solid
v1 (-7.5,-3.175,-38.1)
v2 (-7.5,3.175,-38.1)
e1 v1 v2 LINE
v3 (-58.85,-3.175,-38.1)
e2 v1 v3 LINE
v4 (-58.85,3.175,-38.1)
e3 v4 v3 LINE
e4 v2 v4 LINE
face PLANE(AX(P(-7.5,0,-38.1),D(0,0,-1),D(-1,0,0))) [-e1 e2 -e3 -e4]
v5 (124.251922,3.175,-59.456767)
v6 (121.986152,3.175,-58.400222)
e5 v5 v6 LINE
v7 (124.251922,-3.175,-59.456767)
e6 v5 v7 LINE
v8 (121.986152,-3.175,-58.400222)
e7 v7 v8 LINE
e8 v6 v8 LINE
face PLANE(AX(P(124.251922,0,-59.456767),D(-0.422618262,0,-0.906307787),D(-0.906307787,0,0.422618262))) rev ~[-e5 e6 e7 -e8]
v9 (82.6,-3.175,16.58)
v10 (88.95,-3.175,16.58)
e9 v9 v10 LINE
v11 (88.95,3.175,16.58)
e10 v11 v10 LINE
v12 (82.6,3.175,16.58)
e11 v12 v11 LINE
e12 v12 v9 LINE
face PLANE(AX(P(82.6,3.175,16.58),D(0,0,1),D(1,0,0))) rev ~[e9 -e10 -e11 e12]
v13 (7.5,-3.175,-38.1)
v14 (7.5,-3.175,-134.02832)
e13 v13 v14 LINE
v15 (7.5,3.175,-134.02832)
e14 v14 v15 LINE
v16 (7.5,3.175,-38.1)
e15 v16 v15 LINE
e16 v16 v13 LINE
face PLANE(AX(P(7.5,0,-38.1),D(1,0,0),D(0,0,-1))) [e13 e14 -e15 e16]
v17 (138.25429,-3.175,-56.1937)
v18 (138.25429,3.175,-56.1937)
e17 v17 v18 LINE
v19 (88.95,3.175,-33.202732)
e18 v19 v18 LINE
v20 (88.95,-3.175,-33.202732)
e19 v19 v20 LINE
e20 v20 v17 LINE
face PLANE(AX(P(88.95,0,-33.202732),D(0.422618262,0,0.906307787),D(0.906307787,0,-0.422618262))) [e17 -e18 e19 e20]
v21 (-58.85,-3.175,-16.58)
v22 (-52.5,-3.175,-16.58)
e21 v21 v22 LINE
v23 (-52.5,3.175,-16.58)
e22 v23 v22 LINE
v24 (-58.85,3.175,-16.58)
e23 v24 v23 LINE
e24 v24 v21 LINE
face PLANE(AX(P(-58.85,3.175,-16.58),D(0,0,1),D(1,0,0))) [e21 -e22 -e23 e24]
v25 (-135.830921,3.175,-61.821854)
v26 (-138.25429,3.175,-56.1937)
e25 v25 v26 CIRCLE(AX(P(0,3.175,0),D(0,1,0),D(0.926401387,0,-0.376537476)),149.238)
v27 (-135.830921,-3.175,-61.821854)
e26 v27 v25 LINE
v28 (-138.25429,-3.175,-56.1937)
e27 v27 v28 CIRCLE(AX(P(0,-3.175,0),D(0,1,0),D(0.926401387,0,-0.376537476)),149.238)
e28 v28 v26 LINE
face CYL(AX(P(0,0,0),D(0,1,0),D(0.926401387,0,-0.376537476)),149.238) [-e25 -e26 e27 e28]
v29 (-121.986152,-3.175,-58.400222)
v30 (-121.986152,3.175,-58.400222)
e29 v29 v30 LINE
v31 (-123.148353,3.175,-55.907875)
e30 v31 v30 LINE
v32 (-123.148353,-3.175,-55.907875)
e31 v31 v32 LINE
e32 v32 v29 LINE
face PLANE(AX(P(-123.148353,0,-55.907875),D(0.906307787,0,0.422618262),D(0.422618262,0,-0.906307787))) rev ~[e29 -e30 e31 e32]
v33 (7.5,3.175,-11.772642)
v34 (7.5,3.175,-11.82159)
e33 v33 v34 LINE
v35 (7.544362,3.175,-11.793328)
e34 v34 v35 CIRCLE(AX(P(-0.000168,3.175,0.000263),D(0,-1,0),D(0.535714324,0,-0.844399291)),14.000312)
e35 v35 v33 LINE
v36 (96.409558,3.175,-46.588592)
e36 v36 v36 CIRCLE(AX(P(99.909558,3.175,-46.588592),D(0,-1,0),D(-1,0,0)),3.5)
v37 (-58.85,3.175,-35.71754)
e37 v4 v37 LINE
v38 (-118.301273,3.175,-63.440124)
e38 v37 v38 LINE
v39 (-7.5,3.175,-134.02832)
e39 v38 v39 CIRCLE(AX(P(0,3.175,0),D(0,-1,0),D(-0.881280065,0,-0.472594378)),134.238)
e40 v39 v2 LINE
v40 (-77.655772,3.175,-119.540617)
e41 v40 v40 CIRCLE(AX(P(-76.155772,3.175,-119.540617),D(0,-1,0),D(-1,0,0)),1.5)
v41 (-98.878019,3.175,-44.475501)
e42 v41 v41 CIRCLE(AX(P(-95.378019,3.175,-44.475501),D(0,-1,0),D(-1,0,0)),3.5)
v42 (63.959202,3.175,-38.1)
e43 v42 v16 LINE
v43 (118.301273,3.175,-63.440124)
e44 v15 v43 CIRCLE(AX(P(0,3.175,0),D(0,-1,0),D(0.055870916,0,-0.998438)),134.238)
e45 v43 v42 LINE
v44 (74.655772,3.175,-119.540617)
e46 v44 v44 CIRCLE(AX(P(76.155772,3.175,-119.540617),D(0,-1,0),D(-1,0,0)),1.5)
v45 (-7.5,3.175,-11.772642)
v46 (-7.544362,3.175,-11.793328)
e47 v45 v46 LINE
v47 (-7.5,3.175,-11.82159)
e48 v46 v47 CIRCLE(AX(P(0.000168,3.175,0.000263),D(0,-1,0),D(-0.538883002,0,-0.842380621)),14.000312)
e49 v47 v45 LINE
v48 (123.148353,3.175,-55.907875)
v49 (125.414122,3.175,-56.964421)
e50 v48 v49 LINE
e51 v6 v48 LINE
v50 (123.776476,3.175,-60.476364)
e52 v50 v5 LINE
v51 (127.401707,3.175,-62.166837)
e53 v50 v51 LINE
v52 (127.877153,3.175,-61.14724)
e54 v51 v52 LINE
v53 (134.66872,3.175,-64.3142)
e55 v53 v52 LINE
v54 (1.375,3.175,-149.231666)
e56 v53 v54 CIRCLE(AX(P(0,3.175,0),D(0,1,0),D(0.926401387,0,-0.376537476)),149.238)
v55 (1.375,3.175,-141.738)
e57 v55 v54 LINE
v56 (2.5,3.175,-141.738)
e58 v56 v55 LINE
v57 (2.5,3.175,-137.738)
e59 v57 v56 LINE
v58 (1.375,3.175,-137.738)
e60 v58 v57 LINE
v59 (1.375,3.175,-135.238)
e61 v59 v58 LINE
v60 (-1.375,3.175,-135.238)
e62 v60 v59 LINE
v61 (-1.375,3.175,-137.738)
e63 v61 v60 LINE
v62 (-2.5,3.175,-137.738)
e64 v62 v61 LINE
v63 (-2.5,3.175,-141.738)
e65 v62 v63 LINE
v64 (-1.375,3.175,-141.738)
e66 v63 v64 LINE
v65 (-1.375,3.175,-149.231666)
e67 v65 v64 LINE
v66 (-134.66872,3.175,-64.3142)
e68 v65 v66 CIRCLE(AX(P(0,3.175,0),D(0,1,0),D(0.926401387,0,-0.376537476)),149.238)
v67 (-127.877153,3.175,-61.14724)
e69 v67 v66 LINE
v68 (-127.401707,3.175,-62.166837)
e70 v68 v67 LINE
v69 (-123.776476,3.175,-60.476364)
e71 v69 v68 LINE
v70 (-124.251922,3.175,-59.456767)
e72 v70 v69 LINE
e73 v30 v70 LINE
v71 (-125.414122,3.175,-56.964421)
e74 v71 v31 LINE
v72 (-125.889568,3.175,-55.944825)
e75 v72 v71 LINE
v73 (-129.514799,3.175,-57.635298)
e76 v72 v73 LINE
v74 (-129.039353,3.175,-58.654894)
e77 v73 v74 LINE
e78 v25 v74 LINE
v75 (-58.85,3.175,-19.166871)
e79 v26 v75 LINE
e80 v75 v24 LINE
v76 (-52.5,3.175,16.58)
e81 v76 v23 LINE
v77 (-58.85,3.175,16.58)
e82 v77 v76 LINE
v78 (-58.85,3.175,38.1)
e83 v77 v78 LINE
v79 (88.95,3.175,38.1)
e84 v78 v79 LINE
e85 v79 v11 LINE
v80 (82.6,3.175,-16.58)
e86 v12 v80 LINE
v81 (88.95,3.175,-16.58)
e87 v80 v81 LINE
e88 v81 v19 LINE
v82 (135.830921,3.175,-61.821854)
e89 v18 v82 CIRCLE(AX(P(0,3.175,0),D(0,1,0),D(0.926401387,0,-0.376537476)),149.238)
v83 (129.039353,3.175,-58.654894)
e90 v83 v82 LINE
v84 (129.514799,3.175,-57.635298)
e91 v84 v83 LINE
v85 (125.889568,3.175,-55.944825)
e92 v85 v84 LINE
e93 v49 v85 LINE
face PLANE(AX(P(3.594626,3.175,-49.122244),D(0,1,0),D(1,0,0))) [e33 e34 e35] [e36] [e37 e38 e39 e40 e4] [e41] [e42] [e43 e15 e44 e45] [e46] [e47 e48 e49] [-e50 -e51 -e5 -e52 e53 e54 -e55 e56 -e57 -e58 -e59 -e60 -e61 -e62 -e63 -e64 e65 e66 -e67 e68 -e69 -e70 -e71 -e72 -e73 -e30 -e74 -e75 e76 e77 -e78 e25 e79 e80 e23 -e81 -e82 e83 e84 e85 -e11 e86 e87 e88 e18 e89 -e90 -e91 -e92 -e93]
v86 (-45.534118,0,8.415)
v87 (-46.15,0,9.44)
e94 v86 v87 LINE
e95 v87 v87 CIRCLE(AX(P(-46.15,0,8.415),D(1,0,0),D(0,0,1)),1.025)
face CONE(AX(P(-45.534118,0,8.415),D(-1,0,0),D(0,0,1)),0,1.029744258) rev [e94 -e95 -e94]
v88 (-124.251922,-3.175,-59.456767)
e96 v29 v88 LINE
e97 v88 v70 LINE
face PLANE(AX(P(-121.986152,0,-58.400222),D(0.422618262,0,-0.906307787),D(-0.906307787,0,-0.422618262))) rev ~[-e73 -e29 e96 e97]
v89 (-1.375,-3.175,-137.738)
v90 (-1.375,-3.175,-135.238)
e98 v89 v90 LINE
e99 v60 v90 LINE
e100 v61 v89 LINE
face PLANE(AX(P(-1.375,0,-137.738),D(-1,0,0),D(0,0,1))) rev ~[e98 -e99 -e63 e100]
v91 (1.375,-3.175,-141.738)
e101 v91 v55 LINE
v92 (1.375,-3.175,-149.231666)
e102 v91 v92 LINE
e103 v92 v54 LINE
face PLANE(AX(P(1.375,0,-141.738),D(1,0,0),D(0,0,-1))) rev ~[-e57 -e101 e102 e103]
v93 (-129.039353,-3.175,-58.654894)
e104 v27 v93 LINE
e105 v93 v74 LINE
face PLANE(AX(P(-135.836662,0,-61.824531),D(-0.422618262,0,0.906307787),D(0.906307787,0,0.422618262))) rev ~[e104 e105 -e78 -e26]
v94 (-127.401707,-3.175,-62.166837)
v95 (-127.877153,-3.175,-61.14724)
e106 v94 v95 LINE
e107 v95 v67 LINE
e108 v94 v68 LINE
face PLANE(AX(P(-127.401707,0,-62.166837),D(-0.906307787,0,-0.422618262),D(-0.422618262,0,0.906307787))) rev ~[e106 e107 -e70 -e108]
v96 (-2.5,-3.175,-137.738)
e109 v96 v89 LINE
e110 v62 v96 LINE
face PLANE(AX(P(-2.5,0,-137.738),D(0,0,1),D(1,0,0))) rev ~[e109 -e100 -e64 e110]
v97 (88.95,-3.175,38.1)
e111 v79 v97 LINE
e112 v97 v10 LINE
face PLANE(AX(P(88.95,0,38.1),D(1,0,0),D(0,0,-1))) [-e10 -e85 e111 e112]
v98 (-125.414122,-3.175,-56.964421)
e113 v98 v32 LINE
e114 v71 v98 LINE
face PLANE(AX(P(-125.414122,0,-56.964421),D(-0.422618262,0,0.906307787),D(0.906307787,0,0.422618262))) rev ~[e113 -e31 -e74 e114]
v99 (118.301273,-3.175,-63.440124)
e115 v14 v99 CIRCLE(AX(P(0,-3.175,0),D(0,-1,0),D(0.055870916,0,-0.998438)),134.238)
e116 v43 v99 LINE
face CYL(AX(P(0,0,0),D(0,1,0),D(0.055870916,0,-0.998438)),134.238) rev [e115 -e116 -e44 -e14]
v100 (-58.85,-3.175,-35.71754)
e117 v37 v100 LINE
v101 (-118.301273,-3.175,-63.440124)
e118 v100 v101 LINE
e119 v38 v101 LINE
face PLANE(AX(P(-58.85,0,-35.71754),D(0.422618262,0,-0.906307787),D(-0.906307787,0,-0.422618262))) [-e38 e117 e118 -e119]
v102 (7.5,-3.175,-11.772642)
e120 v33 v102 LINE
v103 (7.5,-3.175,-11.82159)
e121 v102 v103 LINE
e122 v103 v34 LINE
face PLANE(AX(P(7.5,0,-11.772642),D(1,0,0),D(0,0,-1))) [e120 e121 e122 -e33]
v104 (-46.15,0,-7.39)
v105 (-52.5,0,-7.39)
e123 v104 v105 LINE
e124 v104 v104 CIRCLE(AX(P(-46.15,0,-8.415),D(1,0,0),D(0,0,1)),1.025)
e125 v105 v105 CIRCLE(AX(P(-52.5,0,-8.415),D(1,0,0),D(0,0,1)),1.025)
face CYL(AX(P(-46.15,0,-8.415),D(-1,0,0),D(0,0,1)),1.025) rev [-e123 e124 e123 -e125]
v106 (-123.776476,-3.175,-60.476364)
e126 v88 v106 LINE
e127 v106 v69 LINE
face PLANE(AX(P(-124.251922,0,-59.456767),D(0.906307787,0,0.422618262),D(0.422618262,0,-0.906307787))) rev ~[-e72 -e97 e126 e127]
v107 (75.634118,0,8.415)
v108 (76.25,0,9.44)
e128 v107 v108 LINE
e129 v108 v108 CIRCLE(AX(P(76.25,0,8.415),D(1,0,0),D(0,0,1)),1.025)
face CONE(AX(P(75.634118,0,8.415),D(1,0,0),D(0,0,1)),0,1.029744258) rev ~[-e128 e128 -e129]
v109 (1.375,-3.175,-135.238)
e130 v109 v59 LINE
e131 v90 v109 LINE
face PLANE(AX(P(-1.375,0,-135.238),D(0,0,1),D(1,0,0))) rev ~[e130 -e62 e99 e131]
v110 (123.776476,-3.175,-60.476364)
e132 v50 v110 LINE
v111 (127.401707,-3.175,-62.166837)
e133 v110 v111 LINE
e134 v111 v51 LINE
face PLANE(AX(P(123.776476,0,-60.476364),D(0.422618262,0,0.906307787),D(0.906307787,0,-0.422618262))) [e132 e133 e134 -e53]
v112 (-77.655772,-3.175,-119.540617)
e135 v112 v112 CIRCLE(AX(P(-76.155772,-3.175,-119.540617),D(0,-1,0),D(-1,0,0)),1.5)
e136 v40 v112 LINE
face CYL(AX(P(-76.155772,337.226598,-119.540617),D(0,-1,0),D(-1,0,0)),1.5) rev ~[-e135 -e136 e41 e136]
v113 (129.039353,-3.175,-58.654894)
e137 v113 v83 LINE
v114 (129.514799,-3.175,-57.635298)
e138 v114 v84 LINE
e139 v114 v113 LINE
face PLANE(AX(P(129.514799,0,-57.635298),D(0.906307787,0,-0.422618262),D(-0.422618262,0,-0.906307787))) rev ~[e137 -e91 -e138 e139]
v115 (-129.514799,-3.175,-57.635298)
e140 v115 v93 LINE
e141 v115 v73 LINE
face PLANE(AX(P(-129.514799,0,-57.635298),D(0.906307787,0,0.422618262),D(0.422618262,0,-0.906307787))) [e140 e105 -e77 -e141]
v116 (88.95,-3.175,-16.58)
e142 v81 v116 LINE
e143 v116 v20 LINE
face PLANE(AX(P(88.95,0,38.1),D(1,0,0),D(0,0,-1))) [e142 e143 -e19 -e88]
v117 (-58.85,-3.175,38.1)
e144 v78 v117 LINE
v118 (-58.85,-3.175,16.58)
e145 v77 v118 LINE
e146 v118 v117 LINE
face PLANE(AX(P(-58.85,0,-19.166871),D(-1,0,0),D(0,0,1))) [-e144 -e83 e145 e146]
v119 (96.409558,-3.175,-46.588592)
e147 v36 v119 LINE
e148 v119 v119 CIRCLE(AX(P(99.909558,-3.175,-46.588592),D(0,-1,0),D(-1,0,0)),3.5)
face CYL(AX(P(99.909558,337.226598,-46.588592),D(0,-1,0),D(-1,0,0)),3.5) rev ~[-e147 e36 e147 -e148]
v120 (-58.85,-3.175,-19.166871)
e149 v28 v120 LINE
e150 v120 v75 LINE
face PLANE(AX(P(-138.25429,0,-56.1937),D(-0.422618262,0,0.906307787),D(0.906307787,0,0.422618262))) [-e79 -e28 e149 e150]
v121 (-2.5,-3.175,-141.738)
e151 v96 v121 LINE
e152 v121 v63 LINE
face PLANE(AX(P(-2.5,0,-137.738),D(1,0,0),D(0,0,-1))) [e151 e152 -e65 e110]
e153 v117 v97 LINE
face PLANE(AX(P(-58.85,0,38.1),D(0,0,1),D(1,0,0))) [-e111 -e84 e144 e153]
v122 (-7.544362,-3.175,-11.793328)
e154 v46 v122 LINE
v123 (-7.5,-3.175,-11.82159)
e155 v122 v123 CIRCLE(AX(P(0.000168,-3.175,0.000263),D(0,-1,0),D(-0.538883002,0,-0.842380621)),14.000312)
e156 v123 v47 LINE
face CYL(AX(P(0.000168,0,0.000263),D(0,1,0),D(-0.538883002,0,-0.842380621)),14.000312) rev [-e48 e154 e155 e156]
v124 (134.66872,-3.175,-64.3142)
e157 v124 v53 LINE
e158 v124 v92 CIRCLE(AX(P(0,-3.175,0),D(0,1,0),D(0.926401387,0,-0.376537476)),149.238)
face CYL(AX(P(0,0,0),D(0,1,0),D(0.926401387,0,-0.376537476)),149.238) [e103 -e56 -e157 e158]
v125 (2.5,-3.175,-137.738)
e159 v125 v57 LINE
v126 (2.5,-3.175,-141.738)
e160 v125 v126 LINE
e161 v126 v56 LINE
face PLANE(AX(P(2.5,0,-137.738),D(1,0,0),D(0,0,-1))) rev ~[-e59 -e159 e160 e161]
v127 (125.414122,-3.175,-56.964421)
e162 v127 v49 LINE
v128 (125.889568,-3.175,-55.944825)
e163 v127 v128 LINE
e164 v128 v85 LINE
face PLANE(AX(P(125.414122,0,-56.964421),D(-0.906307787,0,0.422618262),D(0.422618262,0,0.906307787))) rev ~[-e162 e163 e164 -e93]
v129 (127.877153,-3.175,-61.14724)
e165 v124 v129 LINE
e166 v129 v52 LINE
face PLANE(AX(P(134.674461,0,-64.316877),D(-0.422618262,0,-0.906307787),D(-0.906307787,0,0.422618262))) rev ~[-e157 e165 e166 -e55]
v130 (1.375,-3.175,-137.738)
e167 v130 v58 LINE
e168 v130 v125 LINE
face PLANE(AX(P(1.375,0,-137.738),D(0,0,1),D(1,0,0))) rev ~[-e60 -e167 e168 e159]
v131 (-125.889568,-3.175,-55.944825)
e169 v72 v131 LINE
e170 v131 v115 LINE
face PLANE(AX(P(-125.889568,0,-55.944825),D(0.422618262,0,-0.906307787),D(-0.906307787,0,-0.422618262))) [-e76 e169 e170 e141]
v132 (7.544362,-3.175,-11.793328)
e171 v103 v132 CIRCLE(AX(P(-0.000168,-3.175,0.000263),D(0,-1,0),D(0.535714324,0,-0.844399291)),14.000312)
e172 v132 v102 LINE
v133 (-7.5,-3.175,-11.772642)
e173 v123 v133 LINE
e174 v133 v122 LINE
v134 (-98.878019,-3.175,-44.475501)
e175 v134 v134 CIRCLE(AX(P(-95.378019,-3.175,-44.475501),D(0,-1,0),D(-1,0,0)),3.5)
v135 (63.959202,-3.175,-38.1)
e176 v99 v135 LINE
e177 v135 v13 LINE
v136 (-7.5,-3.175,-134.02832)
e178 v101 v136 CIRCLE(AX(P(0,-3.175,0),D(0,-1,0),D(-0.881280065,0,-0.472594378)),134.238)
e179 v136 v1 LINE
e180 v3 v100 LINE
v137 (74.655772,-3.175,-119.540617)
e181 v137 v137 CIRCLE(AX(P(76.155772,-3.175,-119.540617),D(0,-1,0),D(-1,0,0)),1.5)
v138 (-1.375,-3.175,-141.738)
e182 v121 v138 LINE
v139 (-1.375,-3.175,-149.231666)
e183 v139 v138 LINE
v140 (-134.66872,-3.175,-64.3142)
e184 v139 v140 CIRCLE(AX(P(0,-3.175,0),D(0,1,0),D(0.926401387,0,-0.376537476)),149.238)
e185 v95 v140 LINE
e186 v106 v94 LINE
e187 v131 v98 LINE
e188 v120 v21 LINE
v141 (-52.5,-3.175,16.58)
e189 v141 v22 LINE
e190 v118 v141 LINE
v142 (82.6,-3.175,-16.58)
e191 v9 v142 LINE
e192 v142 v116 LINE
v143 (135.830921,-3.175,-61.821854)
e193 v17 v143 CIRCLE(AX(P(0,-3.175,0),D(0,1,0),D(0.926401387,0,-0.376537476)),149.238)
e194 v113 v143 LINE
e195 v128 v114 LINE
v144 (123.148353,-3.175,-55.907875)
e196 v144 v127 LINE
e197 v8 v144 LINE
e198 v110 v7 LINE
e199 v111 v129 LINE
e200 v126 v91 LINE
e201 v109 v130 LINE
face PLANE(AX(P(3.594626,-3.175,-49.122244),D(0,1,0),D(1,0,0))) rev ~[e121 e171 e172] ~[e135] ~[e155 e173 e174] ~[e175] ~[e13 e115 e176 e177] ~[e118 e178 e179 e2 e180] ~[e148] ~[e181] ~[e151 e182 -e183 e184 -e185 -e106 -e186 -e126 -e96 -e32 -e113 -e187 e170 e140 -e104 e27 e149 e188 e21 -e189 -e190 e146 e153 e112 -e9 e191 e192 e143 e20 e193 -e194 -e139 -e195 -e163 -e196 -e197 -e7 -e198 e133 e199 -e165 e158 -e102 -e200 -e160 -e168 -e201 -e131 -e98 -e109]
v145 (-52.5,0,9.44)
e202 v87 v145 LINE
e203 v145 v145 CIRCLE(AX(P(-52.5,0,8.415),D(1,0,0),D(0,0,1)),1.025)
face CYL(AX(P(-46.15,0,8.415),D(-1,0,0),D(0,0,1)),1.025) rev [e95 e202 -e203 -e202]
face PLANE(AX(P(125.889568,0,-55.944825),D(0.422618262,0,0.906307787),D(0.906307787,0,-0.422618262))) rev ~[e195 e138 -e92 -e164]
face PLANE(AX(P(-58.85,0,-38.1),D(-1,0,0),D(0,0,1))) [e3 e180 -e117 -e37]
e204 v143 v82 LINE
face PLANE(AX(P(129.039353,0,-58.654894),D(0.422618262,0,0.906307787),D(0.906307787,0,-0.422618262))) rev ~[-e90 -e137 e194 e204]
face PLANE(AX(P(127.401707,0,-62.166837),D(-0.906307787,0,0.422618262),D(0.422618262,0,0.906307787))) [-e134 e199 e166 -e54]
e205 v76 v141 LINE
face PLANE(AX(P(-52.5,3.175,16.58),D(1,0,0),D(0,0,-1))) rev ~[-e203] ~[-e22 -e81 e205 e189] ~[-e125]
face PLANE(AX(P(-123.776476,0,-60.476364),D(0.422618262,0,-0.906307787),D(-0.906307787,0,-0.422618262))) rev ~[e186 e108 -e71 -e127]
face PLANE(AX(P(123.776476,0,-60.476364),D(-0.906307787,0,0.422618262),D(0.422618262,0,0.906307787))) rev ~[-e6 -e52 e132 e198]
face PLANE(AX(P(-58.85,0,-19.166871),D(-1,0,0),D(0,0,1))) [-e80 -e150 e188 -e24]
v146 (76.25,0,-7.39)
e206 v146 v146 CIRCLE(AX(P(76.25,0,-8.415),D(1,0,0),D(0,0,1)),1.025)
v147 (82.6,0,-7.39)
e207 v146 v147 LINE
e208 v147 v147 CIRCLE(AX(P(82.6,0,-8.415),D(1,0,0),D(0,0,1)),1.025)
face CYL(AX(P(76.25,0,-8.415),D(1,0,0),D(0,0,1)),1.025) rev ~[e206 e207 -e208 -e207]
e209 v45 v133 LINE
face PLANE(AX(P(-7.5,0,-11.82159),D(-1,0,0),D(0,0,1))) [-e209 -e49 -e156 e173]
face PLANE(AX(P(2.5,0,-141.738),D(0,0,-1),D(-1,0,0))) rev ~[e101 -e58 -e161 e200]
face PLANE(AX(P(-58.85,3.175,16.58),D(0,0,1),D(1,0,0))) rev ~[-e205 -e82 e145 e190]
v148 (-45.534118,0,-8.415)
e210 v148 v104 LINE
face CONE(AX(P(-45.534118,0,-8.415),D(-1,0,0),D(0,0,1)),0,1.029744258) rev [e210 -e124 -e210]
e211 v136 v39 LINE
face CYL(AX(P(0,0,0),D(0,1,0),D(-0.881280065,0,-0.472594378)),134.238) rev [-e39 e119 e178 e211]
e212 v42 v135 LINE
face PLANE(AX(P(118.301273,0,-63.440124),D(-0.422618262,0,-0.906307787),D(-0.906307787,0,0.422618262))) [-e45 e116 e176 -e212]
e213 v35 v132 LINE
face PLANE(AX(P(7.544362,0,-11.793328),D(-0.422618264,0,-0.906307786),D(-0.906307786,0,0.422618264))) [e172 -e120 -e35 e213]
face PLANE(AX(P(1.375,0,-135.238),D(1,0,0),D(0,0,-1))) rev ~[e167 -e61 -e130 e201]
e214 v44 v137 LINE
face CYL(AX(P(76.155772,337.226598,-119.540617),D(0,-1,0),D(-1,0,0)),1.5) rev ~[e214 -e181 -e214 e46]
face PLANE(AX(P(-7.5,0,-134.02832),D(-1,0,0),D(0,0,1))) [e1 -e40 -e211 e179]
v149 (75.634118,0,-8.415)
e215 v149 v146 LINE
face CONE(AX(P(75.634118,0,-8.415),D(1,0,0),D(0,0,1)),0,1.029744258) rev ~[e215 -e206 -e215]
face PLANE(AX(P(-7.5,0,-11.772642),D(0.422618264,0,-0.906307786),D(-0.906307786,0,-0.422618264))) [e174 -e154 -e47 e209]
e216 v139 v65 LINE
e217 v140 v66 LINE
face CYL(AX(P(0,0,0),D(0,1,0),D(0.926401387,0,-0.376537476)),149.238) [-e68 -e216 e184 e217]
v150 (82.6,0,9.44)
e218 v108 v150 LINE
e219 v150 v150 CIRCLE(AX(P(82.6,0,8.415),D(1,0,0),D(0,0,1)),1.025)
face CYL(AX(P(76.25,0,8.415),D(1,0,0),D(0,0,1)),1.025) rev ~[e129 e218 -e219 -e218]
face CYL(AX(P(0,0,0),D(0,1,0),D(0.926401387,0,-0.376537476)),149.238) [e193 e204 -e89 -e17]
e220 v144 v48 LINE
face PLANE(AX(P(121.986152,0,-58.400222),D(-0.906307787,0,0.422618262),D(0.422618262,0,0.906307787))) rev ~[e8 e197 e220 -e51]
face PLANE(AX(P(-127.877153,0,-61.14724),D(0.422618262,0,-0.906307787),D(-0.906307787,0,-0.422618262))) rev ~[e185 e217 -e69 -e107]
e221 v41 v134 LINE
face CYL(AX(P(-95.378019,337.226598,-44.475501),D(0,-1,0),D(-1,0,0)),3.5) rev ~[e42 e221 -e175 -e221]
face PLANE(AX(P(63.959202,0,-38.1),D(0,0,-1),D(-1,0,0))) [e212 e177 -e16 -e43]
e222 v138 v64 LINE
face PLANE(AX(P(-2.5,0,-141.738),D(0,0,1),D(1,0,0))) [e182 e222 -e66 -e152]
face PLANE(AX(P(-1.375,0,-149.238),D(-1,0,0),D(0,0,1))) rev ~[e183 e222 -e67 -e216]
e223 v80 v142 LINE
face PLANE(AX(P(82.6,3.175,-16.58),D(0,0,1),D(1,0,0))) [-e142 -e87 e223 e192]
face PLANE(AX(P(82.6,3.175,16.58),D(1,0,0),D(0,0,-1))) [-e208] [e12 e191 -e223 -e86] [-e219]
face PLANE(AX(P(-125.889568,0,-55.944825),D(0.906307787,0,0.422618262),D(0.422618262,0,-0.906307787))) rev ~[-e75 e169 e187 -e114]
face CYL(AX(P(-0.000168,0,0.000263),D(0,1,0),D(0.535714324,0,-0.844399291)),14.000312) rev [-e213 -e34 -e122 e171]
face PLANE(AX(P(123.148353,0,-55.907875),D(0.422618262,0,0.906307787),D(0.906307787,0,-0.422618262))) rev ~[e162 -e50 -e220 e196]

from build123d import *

# Parameters (mm, degrees)
BOSS_EXTRUDE1_DEPTH               = 3.175
SKETCH2_W                         = 2.75
SKETCH2_H                         = 2.5
SKETCH2_H_2                       = 4
SKETCH2_W_2                       = 1.125
SKETCH2_H_3                       = 7.5
CUT_EXTRUDE1_DEPTH                = 204.460831631
CIRPATTERN1_COUNT                 = 2
CIRPATTERN1_ANGLE                 = 65
CIRPATTERN1_THE_OTHER_WAY_COUNT   = 2
CIRPATTERN1_THE_OTHER_WAY_ANGLE   = 65
F_3_0_3_DIAMETER_HOLE1_D          = 3
SKETCH13_W                        = 6.35
SKETCH13_H                        = 33.16
CUT_EXTRUDE2_DEPTH                = 204.530492207
M2_5X0_45_TAPPED_HOLE1_AT_2_COUNT = 2
M2_5X0_45_TAPPED_HOLE1_AT_2_PITCH = 16.83
M6_CLEARANCE_HOLE1_D              = 7


with BuildPart() as part:
    # Sketch1 → Boss-Extrude1 (new, symmetric)
    with BuildSketch(Plane(origin=(0, 0, 0), x_dir=(1, 0, 0), z_dir=(0, 1, 0))):
        with BuildLine():
            Line((88.95, 33.202731801), (138.254290129, 56.193699868))
            ThreePointArc((138.254290129, 56.193699868), (0, 149.238), (-138.254290129, 56.193699868))
            Line((-138.254290129, 56.193699868), (-58.85, 19.16687129))
            Line((-58.85, 19.16687129), (-58.85, -38.1))
            Line((-58.85, -38.1), (88.95, -38.1))
            Line((88.95, -38.1), (88.95, 33.202731801))
        make_face()
        with BuildLine():
            Line((-7.5, 11.821590418), (-7.5, 11.772641828))
            Line((-7.5, 11.772641828), (-7.544362488, 11.793328396))
            ThreePointArc((-7.544362488, 11.793328396), (-7.522194517, 11.807480241), (-7.5, 11.821590418))
        make_face(mode=Mode.SUBTRACT)
        with BuildLine():
            ThreePointArc((7.5, 11.821590418), (7.522194517, 11.807480241), (7.544362488, 11.793328396))
            Line((7.544362488, 11.793328396), (7.5, 11.772641828))
            Line((7.5, 11.772641828), (7.5, 11.821590418))
        make_face(mode=Mode.SUBTRACT)
        with BuildLine():
            Line((-7.5, 134.028320306), (-7.5, 38.1))
            Line((-7.5, 38.1), (-58.85, 38.1))
            Line((-58.85, 38.1), (-58.85, 35.717540075))
            Line((-58.85, 35.717540075), (-118.301273414, 63.440124154))
            ThreePointArc((-118.301273414, 63.440124154), (-72.126024825, 113.215180903), (-7.5, 134.028320306))
        make_face(mode=Mode.SUBTRACT)
        with BuildLine():
            ThreePointArc((7.5, 134.028320306), (72.126024825, 113.215180903), (118.301273414, 63.440124154))
            Line((118.301273414, 63.440124154), (63.959201798, 38.1))
            Line((63.959201798, 38.1), (7.5, 38.1))
            Line((7.5, 38.1), (7.5, 134.028320306))
        make_face(mode=Mode.SUBTRACT)
    extrude(amount=BOSS_EXTRUDE1_DEPTH, both=True)

    # Sketch2 → Cut-Extrude1 (cut, symmetric)
    with BuildSketch(Plane(origin=(0, 0, 0), x_dir=(1, 0, 0), z_dir=(0, 1, 0))):
        with Locations((0, 136.488)):
            Rectangle(SKETCH2_W, SKETCH2_H)
        with Locations((0, 139.738)):
            Rectangle(SKETCH2_W, SKETCH2_H_2)
        with Locations((1.9375, 139.738)):
            Rectangle(SKETCH2_W_2, SKETCH2_H_2)
        with Locations((0, 145.488)):
            Rectangle(SKETCH2_W, SKETCH2_H_3)
        with Locations((-1.9375, 139.738)):
            Rectangle(SKETCH2_W_2, SKETCH2_H_2)
    cut_extrude1 = extrude(amount=CUT_EXTRUDE1_DEPTH, both=True, mode=Mode.SUBTRACT)

    # CirPattern1: Cut-Extrude1 ×2 about axis
    cirpattern1_axis = Axis((0, 0, 0), (0, 1, 0))
    for i in range(1, CIRPATTERN1_COUNT):
        add(cut_extrude1.rotate(cirpattern1_axis, i * CIRPATTERN1_ANGLE / (CIRPATTERN1_COUNT - 1)), mode=Mode.SUBTRACT)

    # CirPattern1 the other way: Cut-Extrude1 ×2 about axis
    cirpattern1_the_other_way_axis = Axis((0, 0, 0), (0, -1, 0))
    for i in range(1, CIRPATTERN1_THE_OTHER_WAY_COUNT):
        add(cut_extrude1.rotate(cirpattern1_the_other_way_axis, i * CIRPATTERN1_THE_OTHER_WAY_ANGLE / (CIRPATTERN1_THE_OTHER_WAY_COUNT - 1)), mode=Mode.SUBTRACT)

    # Ø3.0 (3) Diameter Hole1 (through all)
    with Locations(Plane(origin=(0, 3.175, 0), x_dir=(1, 0, 0), z_dir=(0, 1, 0))):
        with Locations((76.155771888, 119.540616747), (-76.155771888, 119.540616747)):
            Hole(F_3_0_3_DIAMETER_HOLE1_D / 2)

    # Sketch13 → Cut-Extrude2 (cut, through all)
    with BuildSketch(Plane(origin=(0, 3.175, 0), x_dir=(1, 0, 0), z_dir=(0, 1, 0))):
        with Locations((-55.675, 0)):
            Rectangle(SKETCH13_W, SKETCH13_H)
        with Locations((85.775, 0)):
            Rectangle(SKETCH13_W, SKETCH13_H)
    extrude(amount=-CUT_EXTRUDE2_DEPTH, mode=Mode.SUBTRACT)

    # Sketch15 → M2.5x0.45 Tapped Hole1 (revolve, cut)
    with BuildSketch(Plane(origin=(-52.5, 0, -8.415), x_dir=(0, 0, 1), z_dir=(0, 1, 0))):
        Polygon((0, 0), (0, 6.965882135), (1.025, 6.35), (1.025, 0), align=None)
    m2_5x0_45_tapped_hole1 = revolve(axis=Axis((-58.85, 0, -8.415), (1, 0, 0)), mode=Mode.SUBTRACT)

    # M2.5x0.45 Tapped Hole1 at 2: M2.5x0.45 Tapped Hole1 ×2
    with Locations(*[(0, 0, i * M2_5X0_45_TAPPED_HOLE1_AT_2_PITCH) for i in range(1, M2_5X0_45_TAPPED_HOLE1_AT_2_COUNT)]):
        add(m2_5x0_45_tapped_hole1, mode=Mode.SUBTRACT)

    # Mirror1: M2.5x0.45 Tapped Hole1 across plane
    add(m2_5x0_45_tapped_hole1.mirror(Plane.ZY.offset(-15.05)), mode=Mode.SUBTRACT)

    # Mirror1 copy 1 sketch → Mirror1 copy 1 (revolve, cut)
    with BuildSketch(Plane(origin=(82.6, 0, 8.415), x_dir=(0, 0, 1), z_dir=(0, 1, 0))):
        Polygon((0, 0), (0, -6.965882135), (1.025, -6.35), (1.025, 0), align=None)
    revolve(axis=Axis((88.95, 0, 8.415), (1, 0, 0)), mode=Mode.SUBTRACT)

    # M6 Clearance Hole1 (through all)
    with Locations(Plane(origin=(0, 3.175, 0), x_dir=(1, 0, 0), z_dir=(0, 1, 0))):
        with Locations((99.909557827, 46.588591938), (-95.378018892, 44.475500629)):
            Hole(M6_CLEARANCE_HOLE1_D / 2)


solid = part.part
